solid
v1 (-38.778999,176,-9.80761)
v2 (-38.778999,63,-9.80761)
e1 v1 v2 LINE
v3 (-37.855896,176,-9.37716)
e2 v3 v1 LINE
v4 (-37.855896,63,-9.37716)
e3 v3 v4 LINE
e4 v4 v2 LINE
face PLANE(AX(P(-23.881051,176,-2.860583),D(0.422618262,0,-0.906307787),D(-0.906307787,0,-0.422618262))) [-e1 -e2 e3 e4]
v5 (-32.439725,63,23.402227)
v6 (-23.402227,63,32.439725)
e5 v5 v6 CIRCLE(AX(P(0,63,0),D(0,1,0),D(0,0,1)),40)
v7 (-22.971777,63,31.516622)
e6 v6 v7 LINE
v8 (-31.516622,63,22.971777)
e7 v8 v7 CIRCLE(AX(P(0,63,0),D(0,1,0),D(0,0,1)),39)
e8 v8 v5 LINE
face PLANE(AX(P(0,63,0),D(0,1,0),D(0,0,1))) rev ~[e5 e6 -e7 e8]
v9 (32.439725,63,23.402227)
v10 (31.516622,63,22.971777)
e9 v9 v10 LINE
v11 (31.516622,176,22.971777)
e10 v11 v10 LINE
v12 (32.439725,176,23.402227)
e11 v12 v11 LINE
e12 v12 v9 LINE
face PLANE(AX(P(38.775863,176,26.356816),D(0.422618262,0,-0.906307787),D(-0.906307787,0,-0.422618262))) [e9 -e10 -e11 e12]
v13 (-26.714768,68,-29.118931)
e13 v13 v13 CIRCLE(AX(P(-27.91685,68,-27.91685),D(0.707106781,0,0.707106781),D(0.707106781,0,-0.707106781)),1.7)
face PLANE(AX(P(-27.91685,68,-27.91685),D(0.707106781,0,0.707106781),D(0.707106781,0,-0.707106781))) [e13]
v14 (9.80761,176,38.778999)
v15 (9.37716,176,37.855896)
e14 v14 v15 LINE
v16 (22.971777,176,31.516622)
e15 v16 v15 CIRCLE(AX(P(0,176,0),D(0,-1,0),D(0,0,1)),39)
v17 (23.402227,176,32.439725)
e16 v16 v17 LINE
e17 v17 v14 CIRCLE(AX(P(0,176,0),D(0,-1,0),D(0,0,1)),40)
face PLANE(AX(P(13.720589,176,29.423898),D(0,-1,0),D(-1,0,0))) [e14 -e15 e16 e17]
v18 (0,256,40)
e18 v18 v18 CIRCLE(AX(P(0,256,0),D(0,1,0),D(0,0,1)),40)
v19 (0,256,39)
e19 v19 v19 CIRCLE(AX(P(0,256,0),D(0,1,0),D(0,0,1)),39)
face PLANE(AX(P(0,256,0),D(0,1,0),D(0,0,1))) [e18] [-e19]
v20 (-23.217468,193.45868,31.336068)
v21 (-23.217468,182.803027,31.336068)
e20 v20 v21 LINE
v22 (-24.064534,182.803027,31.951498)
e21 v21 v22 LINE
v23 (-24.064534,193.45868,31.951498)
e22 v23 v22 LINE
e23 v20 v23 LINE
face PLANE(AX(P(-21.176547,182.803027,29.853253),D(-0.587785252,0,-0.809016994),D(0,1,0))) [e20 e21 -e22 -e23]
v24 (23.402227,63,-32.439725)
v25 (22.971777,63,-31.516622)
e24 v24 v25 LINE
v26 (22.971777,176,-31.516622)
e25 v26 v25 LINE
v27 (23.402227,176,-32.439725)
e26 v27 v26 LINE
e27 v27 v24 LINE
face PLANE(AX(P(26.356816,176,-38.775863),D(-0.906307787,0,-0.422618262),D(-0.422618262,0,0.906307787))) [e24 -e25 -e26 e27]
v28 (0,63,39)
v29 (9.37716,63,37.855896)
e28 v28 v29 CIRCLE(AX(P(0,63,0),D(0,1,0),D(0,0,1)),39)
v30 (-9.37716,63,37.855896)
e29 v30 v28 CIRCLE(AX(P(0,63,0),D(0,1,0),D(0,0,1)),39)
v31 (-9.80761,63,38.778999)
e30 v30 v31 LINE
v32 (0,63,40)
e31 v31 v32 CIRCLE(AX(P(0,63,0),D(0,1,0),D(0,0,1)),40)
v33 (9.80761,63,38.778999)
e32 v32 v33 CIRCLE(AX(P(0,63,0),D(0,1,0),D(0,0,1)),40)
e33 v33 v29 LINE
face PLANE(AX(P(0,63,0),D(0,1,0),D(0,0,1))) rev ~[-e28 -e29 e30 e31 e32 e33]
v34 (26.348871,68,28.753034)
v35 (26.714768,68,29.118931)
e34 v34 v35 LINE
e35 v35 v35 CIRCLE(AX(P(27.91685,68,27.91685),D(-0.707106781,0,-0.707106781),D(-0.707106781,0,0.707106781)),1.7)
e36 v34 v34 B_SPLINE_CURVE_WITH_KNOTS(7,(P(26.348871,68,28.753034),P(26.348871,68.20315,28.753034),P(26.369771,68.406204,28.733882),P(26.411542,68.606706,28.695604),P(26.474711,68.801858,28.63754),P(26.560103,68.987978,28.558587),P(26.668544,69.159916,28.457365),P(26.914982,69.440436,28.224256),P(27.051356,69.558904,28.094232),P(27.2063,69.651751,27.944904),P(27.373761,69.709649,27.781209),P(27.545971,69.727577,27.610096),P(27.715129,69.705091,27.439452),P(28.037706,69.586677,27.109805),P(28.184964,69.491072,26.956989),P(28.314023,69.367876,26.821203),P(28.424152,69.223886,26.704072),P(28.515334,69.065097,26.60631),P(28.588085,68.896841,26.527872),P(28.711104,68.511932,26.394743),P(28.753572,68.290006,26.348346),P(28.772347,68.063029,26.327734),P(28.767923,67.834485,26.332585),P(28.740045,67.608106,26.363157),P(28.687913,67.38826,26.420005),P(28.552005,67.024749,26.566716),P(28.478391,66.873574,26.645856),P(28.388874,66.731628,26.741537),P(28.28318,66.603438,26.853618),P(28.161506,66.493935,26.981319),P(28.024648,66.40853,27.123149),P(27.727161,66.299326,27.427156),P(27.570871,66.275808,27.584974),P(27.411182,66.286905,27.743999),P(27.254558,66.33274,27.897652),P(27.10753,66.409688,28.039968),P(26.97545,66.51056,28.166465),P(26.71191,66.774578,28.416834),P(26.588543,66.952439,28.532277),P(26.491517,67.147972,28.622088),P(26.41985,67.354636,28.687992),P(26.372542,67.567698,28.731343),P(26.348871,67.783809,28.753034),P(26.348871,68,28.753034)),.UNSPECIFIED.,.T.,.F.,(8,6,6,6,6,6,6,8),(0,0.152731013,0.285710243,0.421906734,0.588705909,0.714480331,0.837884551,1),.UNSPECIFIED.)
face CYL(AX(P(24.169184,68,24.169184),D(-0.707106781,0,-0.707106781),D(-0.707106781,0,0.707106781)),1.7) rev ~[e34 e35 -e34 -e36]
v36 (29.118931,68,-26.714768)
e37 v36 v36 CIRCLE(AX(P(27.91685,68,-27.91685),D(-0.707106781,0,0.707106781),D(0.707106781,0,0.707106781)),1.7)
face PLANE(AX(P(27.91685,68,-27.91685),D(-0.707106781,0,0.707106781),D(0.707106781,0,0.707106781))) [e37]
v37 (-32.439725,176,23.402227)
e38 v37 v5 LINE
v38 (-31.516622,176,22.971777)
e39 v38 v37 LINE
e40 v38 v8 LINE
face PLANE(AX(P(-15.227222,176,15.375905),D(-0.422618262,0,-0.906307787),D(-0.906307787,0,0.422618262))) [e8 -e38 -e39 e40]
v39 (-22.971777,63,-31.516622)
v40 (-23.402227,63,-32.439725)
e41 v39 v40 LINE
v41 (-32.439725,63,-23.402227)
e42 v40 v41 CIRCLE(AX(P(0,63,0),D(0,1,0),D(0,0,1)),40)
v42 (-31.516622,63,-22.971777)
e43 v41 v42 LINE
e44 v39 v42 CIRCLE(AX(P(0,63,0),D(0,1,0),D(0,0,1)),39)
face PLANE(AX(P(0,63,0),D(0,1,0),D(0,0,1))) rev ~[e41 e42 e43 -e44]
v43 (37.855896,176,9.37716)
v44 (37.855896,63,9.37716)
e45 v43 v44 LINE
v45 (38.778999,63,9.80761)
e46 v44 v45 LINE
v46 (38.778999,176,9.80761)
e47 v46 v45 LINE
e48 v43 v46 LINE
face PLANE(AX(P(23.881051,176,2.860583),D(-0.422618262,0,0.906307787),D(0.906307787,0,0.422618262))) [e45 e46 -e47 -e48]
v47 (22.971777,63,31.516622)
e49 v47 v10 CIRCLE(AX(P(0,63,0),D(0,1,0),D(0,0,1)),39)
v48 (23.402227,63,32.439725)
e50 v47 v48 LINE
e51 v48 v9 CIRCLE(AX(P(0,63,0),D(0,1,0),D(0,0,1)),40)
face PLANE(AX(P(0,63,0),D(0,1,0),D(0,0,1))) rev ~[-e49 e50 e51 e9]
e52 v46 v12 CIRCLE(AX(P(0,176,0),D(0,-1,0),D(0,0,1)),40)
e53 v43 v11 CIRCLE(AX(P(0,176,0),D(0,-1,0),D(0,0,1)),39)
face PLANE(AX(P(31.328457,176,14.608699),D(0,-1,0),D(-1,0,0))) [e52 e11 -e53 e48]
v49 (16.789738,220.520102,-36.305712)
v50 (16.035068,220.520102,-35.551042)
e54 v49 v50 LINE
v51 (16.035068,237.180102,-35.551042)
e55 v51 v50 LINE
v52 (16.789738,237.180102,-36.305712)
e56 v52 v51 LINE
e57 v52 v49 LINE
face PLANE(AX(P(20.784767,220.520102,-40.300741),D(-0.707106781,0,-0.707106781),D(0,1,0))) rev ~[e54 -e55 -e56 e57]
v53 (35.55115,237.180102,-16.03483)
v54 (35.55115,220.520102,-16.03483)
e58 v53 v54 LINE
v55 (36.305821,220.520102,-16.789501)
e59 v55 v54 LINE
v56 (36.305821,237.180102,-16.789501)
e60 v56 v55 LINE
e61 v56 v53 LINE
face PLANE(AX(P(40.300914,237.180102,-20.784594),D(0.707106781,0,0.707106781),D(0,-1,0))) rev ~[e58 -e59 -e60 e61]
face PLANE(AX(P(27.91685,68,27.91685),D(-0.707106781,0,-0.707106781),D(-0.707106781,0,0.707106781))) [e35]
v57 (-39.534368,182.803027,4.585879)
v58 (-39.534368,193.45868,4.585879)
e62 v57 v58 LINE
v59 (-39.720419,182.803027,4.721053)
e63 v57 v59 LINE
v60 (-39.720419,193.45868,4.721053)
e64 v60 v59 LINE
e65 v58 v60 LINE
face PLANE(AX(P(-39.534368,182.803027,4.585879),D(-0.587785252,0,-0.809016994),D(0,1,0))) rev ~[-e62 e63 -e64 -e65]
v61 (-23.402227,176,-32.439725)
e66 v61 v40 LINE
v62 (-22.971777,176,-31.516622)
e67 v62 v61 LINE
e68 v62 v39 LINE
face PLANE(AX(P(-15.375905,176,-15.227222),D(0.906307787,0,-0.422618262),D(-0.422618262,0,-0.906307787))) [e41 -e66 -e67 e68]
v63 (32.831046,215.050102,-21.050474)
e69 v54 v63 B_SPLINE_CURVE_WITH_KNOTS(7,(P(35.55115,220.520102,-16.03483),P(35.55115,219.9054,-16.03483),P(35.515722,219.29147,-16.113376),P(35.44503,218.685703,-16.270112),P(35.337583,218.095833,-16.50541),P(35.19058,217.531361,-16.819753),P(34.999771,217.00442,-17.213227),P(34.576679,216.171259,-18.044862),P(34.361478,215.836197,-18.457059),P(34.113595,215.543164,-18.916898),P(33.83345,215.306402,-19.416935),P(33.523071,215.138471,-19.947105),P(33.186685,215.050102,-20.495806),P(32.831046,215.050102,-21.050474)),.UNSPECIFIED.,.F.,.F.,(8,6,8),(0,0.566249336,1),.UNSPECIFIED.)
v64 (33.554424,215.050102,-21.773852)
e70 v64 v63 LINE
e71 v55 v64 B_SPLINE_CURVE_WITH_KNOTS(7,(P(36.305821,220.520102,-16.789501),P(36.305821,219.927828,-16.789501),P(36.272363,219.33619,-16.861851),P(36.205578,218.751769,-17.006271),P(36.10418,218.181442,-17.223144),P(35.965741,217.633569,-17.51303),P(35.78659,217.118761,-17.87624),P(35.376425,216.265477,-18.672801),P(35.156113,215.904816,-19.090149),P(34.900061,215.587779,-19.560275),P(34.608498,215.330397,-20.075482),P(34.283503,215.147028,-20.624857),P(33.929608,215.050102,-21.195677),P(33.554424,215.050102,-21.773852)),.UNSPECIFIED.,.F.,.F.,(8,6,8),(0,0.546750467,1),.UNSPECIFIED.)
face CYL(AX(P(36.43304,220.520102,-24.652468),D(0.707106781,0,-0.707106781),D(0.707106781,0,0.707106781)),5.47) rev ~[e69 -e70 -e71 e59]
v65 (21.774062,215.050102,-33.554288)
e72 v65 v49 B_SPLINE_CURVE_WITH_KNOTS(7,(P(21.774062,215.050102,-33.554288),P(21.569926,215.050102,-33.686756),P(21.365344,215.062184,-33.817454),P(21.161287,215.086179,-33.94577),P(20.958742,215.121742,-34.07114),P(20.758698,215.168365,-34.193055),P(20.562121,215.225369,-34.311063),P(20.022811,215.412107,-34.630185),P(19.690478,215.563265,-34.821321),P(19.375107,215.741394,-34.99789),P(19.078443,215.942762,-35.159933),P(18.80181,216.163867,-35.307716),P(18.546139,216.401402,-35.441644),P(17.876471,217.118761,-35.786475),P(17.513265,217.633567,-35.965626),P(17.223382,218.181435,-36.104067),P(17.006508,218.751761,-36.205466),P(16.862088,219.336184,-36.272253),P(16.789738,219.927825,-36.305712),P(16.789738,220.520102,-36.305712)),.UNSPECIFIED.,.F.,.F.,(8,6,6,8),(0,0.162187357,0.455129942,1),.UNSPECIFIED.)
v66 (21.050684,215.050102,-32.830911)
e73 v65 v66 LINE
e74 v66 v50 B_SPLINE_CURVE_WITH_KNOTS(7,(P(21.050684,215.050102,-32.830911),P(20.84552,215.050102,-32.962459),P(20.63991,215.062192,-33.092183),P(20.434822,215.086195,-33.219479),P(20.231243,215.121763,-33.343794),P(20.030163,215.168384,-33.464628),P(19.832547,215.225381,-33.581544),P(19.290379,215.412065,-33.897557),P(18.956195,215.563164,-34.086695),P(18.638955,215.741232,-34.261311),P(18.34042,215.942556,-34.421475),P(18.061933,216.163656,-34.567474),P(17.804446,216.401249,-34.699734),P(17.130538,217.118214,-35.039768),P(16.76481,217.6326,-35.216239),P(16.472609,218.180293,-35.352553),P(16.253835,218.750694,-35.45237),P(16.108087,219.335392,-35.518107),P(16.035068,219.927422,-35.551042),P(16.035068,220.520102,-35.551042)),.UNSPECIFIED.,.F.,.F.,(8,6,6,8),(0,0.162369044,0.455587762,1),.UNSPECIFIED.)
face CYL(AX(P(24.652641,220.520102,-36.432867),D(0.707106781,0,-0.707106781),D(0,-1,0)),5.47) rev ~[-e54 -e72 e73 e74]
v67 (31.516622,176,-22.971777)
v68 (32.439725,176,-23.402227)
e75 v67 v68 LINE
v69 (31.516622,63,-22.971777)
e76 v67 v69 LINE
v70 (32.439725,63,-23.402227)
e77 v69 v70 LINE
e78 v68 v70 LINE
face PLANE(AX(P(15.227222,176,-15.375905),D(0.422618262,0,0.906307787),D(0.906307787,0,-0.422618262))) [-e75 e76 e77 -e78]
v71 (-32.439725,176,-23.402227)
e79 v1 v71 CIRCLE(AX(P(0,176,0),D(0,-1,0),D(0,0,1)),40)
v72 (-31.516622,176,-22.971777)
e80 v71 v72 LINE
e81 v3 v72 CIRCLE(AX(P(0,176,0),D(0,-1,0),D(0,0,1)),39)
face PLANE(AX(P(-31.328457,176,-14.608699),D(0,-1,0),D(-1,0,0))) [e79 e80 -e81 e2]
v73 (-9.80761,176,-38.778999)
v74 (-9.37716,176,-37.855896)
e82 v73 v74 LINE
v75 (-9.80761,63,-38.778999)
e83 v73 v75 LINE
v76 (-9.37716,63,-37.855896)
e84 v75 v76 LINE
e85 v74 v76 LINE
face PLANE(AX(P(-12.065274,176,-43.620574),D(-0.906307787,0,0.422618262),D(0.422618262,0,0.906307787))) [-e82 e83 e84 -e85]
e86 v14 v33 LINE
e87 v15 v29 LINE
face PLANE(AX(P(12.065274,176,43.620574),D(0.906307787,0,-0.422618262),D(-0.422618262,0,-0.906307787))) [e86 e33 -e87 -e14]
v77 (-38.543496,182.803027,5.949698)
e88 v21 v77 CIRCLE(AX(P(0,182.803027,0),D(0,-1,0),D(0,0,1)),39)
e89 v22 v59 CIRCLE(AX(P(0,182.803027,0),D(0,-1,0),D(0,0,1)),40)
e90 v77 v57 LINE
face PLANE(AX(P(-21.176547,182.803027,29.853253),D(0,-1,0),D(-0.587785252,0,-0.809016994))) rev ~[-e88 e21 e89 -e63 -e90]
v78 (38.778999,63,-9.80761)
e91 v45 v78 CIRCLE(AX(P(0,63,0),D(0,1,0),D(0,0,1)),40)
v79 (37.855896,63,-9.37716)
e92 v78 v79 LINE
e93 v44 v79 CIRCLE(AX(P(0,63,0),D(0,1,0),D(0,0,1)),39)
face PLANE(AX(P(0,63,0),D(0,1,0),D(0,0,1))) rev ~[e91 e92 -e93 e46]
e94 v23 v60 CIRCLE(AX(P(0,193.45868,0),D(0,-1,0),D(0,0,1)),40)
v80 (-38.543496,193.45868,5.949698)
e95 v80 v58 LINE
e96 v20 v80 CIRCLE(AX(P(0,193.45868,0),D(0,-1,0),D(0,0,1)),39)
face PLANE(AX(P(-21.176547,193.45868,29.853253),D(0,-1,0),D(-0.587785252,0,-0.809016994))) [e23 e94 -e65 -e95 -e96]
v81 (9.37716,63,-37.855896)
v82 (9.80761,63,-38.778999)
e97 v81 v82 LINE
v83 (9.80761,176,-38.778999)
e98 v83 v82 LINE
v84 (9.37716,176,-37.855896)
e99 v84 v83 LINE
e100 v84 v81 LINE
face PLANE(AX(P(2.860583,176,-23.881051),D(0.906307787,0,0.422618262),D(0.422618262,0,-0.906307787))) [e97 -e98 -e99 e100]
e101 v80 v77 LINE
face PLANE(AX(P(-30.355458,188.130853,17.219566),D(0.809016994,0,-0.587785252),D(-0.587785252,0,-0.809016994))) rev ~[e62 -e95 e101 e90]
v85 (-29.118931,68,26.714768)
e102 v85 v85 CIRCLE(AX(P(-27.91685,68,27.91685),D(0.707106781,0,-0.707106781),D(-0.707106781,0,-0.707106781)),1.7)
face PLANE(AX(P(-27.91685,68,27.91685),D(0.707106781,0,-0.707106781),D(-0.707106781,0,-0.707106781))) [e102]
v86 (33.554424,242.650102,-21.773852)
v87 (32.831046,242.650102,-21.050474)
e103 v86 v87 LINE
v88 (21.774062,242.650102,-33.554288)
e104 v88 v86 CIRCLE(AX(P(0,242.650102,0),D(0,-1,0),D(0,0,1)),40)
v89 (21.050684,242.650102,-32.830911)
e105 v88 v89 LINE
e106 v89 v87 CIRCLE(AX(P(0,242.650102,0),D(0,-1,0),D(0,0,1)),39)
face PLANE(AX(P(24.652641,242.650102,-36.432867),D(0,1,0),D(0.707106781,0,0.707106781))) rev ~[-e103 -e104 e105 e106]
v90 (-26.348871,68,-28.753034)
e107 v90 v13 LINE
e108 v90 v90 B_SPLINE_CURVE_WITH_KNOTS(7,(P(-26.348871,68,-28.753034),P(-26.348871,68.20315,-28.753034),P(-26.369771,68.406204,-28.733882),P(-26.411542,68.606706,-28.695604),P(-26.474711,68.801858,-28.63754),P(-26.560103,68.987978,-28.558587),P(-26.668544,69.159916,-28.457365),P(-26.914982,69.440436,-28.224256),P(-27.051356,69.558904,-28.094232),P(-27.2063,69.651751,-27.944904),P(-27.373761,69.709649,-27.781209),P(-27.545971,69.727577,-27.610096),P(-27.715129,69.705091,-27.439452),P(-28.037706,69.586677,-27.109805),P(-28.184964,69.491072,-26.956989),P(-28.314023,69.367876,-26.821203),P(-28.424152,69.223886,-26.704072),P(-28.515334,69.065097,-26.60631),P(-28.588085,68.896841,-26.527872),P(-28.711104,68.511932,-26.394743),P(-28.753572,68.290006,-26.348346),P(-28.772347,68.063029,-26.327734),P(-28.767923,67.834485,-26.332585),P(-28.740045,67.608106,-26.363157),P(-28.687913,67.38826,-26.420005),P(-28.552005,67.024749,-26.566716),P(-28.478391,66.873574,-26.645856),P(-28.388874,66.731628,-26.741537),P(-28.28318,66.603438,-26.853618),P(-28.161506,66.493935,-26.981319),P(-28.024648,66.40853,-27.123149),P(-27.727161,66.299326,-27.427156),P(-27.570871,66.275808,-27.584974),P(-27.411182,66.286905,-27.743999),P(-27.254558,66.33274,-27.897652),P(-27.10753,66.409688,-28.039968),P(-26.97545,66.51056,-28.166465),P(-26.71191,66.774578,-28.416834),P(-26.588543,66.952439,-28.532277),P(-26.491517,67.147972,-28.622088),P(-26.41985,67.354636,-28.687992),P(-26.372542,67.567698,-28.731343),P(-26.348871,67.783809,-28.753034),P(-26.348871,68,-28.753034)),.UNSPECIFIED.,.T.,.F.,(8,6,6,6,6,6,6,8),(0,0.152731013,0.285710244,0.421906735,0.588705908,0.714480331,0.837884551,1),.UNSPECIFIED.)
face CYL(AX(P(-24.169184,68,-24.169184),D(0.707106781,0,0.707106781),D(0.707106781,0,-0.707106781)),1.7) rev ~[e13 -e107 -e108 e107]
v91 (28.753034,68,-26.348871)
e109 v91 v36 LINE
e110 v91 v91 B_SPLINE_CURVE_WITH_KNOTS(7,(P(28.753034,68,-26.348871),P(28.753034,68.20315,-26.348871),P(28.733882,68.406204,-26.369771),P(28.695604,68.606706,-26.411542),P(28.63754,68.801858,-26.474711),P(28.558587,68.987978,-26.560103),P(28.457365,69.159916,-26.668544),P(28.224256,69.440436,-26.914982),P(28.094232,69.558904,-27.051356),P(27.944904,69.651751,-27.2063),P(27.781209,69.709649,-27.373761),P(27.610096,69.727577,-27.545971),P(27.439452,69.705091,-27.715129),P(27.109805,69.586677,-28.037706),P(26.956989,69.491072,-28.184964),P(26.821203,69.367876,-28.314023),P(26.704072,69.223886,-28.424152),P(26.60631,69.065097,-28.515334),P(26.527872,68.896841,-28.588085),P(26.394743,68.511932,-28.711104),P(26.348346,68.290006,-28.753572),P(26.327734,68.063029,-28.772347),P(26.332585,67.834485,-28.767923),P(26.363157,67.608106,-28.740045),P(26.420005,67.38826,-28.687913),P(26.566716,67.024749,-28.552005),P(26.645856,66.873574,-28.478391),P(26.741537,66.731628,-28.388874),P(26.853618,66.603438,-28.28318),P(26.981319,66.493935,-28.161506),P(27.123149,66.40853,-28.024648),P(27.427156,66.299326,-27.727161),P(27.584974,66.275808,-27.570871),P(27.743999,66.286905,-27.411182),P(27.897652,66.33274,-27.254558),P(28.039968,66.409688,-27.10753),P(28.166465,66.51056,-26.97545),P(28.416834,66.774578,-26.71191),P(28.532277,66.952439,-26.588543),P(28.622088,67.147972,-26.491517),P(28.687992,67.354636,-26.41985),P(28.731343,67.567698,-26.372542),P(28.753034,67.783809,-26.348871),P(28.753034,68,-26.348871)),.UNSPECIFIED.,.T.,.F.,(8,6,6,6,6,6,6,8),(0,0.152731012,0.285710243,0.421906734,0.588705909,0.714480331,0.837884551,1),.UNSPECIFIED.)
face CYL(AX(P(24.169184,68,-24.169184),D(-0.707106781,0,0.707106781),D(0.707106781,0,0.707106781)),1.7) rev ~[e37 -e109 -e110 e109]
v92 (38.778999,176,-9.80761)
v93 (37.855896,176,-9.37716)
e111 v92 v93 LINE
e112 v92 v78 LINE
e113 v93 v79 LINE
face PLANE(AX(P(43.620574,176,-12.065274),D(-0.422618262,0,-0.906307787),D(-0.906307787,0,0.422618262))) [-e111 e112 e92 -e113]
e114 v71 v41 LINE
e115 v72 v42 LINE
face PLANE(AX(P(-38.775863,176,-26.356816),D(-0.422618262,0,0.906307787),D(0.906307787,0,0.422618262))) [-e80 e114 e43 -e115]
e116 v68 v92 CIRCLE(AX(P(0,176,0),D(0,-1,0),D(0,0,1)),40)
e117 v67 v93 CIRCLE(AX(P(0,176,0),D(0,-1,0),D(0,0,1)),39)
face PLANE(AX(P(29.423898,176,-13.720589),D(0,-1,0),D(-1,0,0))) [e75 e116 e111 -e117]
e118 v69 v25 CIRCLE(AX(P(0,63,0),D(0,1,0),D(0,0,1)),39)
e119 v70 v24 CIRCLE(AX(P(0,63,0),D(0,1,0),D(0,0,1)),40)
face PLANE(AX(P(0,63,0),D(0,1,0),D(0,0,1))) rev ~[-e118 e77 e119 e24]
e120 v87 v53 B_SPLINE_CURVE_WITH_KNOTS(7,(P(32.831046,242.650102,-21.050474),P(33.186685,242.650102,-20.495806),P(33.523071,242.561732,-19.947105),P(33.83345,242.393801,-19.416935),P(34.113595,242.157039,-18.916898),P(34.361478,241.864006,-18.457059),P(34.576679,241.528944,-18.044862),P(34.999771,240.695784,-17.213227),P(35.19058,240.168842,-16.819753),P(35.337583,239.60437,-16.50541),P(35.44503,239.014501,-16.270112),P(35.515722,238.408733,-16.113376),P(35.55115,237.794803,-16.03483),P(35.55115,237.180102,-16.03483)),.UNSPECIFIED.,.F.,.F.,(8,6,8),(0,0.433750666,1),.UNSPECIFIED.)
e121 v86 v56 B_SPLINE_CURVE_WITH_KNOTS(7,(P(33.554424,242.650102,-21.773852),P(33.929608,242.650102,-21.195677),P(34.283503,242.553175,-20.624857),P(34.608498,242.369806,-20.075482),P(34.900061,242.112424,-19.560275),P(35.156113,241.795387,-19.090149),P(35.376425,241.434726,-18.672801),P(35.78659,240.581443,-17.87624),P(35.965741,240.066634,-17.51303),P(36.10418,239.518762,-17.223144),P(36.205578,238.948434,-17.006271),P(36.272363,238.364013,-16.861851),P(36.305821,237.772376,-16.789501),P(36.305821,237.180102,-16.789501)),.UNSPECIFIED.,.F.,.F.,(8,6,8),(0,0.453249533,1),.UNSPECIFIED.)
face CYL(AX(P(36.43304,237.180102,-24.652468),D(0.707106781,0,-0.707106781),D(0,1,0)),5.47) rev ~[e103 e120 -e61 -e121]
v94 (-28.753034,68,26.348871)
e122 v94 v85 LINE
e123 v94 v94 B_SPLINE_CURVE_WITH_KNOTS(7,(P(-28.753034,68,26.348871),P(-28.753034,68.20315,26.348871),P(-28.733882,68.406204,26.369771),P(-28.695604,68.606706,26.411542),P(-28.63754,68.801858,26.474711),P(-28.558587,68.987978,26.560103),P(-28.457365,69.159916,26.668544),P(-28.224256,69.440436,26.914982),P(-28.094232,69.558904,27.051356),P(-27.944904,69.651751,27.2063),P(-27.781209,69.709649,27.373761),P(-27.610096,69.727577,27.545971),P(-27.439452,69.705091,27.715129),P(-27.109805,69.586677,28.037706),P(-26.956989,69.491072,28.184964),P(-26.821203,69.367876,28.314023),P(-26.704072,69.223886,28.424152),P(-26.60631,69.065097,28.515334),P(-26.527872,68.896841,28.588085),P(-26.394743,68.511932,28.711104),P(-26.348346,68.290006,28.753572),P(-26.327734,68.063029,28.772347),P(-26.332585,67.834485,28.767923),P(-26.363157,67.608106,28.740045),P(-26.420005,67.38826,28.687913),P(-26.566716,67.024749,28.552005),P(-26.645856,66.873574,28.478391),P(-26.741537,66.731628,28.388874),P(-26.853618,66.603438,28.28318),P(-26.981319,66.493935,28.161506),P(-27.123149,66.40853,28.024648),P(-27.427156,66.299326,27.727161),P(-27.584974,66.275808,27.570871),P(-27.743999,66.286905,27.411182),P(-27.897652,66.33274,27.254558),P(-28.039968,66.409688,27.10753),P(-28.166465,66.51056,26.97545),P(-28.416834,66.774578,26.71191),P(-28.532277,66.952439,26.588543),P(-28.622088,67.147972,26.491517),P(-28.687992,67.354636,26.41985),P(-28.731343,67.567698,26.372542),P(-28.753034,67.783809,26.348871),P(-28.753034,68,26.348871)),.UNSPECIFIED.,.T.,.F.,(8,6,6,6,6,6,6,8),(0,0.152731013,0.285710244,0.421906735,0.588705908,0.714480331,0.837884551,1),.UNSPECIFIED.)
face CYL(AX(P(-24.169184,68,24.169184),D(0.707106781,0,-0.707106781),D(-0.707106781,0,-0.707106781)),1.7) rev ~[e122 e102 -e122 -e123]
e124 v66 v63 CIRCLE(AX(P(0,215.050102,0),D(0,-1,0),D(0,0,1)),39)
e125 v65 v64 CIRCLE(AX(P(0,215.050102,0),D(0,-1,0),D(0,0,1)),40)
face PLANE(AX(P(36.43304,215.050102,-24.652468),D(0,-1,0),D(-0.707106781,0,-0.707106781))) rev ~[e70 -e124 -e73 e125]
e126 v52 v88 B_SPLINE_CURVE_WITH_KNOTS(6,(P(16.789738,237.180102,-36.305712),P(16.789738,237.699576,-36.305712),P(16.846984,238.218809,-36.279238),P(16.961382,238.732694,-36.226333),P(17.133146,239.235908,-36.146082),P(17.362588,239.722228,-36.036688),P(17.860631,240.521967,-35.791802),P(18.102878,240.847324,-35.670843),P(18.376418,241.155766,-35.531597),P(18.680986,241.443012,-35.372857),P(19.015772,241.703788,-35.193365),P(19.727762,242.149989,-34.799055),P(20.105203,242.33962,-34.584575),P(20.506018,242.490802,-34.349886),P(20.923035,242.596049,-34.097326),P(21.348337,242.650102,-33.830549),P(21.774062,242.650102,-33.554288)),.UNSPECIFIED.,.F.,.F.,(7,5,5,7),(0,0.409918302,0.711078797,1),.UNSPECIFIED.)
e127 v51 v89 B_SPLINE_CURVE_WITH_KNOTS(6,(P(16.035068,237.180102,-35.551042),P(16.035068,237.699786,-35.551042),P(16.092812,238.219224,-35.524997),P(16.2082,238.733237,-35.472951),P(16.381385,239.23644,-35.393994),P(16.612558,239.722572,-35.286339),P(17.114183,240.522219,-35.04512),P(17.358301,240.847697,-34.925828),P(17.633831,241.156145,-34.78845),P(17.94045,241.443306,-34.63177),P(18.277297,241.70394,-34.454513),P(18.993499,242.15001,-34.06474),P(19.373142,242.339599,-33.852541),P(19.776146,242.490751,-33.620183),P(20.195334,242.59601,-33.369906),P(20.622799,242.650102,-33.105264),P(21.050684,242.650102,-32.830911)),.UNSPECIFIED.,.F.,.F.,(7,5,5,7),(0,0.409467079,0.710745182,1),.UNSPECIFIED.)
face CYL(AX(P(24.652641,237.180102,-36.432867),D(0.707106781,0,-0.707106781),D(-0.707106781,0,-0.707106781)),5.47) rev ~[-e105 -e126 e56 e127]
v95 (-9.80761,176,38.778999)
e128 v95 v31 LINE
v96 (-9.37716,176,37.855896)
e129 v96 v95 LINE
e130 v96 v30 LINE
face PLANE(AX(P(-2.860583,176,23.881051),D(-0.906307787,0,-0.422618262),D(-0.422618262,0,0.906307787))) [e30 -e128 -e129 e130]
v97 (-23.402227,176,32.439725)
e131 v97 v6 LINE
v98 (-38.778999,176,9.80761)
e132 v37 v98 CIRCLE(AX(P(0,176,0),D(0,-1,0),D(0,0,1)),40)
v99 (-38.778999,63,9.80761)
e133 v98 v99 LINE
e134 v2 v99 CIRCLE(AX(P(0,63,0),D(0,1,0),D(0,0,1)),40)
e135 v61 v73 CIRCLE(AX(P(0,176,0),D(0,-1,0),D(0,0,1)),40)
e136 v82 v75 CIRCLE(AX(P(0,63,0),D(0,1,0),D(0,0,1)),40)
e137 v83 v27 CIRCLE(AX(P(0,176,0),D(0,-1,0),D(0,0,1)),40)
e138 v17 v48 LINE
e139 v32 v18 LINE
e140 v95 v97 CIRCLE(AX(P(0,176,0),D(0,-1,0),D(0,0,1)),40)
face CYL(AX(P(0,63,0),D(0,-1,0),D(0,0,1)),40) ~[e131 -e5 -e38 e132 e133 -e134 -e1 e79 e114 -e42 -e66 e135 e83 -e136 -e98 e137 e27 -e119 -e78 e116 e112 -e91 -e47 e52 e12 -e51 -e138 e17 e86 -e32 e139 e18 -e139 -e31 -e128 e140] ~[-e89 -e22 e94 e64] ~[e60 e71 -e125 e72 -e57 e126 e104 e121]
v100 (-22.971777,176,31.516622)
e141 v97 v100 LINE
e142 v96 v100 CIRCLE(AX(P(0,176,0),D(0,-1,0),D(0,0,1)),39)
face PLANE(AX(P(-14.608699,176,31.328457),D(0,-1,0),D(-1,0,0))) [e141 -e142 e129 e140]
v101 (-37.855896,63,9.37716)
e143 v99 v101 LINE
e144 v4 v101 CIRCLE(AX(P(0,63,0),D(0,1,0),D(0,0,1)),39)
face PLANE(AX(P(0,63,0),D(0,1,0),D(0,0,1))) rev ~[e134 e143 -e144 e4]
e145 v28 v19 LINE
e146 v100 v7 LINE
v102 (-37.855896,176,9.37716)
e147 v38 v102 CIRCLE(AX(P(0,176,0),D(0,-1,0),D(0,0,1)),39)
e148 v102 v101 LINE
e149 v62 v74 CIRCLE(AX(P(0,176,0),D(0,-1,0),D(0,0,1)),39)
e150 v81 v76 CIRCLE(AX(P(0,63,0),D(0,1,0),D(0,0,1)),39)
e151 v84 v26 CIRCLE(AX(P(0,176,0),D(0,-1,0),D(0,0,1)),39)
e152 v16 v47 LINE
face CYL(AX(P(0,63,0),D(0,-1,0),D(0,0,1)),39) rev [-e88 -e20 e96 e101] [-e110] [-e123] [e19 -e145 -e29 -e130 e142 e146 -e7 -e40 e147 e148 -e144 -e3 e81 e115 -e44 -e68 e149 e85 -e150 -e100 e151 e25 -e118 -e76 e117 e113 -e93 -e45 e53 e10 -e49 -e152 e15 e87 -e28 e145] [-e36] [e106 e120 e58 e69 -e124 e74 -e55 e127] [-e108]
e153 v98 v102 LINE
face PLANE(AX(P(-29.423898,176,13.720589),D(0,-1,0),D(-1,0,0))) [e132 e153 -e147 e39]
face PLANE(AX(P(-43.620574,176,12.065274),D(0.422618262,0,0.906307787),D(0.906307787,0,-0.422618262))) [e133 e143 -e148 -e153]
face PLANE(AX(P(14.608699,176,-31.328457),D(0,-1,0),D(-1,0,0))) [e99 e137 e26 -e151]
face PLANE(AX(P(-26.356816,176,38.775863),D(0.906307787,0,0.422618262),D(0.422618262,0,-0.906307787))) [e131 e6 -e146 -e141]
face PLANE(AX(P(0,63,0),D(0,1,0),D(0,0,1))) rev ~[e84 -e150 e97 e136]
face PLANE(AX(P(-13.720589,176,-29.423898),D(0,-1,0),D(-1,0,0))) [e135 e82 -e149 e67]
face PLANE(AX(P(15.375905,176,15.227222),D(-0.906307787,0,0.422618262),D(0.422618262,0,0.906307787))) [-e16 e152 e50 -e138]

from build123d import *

# Parameters (mm, degrees)
SKETCH1_R           = 40
SKETCH1_R_2         = 39
BOSS_EXTRUDE1_DEPTH = 193
CUT_EXTRUDE3_START  = -80
CUT_EXTRUDE3_DEPTH  = 150
CUT_EXTRUDE4_DEPTH  = 35
SKETCH22_R          = 1.7
CUT_EXTRUDE5_DEPTH  = 5.3
CIRPATTERN1_COUNT   = 4
SKETCH24_W          = 31.232190918
SKETCH24_H          = 10.655653456
CUT_EXTRUDE6_DEPTH  = 13.3


with BuildPart() as part:
    # Sketch1 → Boss-Extrude1 (new body)
    with BuildSketch(Plane(origin=(0, 63, 0), x_dir=(1, 0, 0), z_dir=(0, 1, 0))):
        with Locations(Location((0, 0, 0), (0, 0, 270))):
            Circle(SKETCH1_R)
        with Locations(Location((0, 0, 0), (0, 0, 270))):
            Circle(SKETCH1_R_2, mode=Mode.SUBTRACT)
    extrude(amount=BOSS_EXTRUDE1_DEPTH)

    # Sketch11 → Cut-Extrude3 (cut)
    with BuildSketch(Plane(origin=(0, 256, 0), x_dir=(1, 0, 0), z_dir=(0, 1, 0)).offset(CUT_EXTRUDE3_START)):
        Polygon((16.455199497, 17.541777329), (2.860582691, 23.881051254), (12.76219936, 45.115136729), (26.356816166, 38.775862804), align=None)
        Polygon((-17.541777329, 16.455199497), (-23.881051254, 2.860582691), (-45.115136729, 12.76219936), (-38.775862804, 26.356816166), align=None)
        Polygon((17.541777329, -16.455199497), (23.881051254, -2.860582691), (45.115136729, -12.76219936), (38.775862804, -26.356816166), align=None)
        Polygon((-16.455199497, -17.541777329), (-2.860582691, -23.881051254), (-12.76219936, -45.115136729), (-26.356816166, -38.775862804), align=None)
        Polygon((-43.620574428, -12.065273515), (-21.566495936, -1.781287822), (-15.22722201, -15.375904627), (-37.281300502, -25.659890321), align=None)
        Polygon((-12.065273515, 43.620574428), (-1.781287822, 21.566495936), (-15.375904627, 15.22722201), (-25.659890321, 37.281300502), align=None)
        Polygon((43.620574428, 12.065273515), (21.566495936, 1.781287822), (15.22722201, 15.375904627), (37.281300502, 25.659890321), align=None)
        Polygon((12.065273515, -43.620574428), (1.781287822, -21.566495936), (15.375904627, -15.22722201), (25.659890321, -37.281300502), align=None)
    extrude(amount=-CUT_EXTRUDE3_DEPTH, mode=Mode.SUBTRACT)

    # Sketch20 → Cut-Extrude4 (cut)
    with BuildSketch(Plane(origin=(30.542754268, 0, -30.542754268), x_dir=(-0.7043828553421385, 0.08769028567936554, -0.7043828553404231), z_dir=(0.7071067811856864, -4.163336342344337e-15, -0.7071067811874089))):
        with BuildLine():
            Line((7.051429642, 237.476570021), (5.590509483, 220.880747887))
            ThreePointArc((5.590509483, 220.880747887), (6.847288676, 216.88728279), (10.559772016, 214.952153629))
            Line((10.559772016, 214.952153629), (27.155594149, 213.491233469))
            ThreePointArc((27.155594149, 213.491233469), (31.149059247, 214.748012662), (33.084188408, 218.460496002))
            Line((33.084188408, 218.460496002), (34.545108567, 235.056318136))
            ThreePointArc((34.545108567, 235.056318136), (33.288329374, 239.049783233), (29.575846034, 240.984912394))
            Line((29.575846034, 240.984912394), (12.980023901, 242.445832553))
            ThreePointArc((12.980023901, 242.445832553), (8.986558804, 241.189053361), (7.051429642, 237.476570021))
        make_face()
    extrude(amount=-CUT_EXTRUDE4_DEPTH, mode=Mode.SUBTRACT)

    # Sketch22 → Cut-Extrude5 (cut)
    with BuildSketch(Plane(origin=(24.169183991, 0, -24.169183991), x_dir=(0.7071067811865483, 0, 0.7071067811865468), z_dir=(-0.7071067811865468, 0, 0.7071067811865483))):
        with Locations((0, 68)):
            Circle(SKETCH22_R)
    cut_extrude5 = extrude(amount=-CUT_EXTRUDE5_DEPTH, mode=Mode.SUBTRACT)

    # CirPattern1: Cut-Extrude5 ×4 about axis
    cirpattern1_axis = Axis((0, 0, 0), (0, 1, 0))
    for i in range(1, CIRPATTERN1_COUNT):
        add(cut_extrude5.rotate(cirpattern1_axis, i * 360 / CIRPATTERN1_COUNT), mode=Mode.SUBTRACT)

    # Sketch24 → Cut-Extrude6 (cut)
    with BuildSketch(Plane(origin=(-28.056295298, 0, 20.384091712), x_dir=(-0.5877852522931263, 0, -0.8090169943744729), z_dir=(0.8090169943744729, 0, -0.5877852522931263))):
        with Locations((3.911568973, 188.130853463)):
            Rectangle(SKETCH24_W, SKETCH24_H)
    extrude(amount=-CUT_EXTRUDE6_DEPTH, mode=Mode.SUBTRACT)


solid = part.part
